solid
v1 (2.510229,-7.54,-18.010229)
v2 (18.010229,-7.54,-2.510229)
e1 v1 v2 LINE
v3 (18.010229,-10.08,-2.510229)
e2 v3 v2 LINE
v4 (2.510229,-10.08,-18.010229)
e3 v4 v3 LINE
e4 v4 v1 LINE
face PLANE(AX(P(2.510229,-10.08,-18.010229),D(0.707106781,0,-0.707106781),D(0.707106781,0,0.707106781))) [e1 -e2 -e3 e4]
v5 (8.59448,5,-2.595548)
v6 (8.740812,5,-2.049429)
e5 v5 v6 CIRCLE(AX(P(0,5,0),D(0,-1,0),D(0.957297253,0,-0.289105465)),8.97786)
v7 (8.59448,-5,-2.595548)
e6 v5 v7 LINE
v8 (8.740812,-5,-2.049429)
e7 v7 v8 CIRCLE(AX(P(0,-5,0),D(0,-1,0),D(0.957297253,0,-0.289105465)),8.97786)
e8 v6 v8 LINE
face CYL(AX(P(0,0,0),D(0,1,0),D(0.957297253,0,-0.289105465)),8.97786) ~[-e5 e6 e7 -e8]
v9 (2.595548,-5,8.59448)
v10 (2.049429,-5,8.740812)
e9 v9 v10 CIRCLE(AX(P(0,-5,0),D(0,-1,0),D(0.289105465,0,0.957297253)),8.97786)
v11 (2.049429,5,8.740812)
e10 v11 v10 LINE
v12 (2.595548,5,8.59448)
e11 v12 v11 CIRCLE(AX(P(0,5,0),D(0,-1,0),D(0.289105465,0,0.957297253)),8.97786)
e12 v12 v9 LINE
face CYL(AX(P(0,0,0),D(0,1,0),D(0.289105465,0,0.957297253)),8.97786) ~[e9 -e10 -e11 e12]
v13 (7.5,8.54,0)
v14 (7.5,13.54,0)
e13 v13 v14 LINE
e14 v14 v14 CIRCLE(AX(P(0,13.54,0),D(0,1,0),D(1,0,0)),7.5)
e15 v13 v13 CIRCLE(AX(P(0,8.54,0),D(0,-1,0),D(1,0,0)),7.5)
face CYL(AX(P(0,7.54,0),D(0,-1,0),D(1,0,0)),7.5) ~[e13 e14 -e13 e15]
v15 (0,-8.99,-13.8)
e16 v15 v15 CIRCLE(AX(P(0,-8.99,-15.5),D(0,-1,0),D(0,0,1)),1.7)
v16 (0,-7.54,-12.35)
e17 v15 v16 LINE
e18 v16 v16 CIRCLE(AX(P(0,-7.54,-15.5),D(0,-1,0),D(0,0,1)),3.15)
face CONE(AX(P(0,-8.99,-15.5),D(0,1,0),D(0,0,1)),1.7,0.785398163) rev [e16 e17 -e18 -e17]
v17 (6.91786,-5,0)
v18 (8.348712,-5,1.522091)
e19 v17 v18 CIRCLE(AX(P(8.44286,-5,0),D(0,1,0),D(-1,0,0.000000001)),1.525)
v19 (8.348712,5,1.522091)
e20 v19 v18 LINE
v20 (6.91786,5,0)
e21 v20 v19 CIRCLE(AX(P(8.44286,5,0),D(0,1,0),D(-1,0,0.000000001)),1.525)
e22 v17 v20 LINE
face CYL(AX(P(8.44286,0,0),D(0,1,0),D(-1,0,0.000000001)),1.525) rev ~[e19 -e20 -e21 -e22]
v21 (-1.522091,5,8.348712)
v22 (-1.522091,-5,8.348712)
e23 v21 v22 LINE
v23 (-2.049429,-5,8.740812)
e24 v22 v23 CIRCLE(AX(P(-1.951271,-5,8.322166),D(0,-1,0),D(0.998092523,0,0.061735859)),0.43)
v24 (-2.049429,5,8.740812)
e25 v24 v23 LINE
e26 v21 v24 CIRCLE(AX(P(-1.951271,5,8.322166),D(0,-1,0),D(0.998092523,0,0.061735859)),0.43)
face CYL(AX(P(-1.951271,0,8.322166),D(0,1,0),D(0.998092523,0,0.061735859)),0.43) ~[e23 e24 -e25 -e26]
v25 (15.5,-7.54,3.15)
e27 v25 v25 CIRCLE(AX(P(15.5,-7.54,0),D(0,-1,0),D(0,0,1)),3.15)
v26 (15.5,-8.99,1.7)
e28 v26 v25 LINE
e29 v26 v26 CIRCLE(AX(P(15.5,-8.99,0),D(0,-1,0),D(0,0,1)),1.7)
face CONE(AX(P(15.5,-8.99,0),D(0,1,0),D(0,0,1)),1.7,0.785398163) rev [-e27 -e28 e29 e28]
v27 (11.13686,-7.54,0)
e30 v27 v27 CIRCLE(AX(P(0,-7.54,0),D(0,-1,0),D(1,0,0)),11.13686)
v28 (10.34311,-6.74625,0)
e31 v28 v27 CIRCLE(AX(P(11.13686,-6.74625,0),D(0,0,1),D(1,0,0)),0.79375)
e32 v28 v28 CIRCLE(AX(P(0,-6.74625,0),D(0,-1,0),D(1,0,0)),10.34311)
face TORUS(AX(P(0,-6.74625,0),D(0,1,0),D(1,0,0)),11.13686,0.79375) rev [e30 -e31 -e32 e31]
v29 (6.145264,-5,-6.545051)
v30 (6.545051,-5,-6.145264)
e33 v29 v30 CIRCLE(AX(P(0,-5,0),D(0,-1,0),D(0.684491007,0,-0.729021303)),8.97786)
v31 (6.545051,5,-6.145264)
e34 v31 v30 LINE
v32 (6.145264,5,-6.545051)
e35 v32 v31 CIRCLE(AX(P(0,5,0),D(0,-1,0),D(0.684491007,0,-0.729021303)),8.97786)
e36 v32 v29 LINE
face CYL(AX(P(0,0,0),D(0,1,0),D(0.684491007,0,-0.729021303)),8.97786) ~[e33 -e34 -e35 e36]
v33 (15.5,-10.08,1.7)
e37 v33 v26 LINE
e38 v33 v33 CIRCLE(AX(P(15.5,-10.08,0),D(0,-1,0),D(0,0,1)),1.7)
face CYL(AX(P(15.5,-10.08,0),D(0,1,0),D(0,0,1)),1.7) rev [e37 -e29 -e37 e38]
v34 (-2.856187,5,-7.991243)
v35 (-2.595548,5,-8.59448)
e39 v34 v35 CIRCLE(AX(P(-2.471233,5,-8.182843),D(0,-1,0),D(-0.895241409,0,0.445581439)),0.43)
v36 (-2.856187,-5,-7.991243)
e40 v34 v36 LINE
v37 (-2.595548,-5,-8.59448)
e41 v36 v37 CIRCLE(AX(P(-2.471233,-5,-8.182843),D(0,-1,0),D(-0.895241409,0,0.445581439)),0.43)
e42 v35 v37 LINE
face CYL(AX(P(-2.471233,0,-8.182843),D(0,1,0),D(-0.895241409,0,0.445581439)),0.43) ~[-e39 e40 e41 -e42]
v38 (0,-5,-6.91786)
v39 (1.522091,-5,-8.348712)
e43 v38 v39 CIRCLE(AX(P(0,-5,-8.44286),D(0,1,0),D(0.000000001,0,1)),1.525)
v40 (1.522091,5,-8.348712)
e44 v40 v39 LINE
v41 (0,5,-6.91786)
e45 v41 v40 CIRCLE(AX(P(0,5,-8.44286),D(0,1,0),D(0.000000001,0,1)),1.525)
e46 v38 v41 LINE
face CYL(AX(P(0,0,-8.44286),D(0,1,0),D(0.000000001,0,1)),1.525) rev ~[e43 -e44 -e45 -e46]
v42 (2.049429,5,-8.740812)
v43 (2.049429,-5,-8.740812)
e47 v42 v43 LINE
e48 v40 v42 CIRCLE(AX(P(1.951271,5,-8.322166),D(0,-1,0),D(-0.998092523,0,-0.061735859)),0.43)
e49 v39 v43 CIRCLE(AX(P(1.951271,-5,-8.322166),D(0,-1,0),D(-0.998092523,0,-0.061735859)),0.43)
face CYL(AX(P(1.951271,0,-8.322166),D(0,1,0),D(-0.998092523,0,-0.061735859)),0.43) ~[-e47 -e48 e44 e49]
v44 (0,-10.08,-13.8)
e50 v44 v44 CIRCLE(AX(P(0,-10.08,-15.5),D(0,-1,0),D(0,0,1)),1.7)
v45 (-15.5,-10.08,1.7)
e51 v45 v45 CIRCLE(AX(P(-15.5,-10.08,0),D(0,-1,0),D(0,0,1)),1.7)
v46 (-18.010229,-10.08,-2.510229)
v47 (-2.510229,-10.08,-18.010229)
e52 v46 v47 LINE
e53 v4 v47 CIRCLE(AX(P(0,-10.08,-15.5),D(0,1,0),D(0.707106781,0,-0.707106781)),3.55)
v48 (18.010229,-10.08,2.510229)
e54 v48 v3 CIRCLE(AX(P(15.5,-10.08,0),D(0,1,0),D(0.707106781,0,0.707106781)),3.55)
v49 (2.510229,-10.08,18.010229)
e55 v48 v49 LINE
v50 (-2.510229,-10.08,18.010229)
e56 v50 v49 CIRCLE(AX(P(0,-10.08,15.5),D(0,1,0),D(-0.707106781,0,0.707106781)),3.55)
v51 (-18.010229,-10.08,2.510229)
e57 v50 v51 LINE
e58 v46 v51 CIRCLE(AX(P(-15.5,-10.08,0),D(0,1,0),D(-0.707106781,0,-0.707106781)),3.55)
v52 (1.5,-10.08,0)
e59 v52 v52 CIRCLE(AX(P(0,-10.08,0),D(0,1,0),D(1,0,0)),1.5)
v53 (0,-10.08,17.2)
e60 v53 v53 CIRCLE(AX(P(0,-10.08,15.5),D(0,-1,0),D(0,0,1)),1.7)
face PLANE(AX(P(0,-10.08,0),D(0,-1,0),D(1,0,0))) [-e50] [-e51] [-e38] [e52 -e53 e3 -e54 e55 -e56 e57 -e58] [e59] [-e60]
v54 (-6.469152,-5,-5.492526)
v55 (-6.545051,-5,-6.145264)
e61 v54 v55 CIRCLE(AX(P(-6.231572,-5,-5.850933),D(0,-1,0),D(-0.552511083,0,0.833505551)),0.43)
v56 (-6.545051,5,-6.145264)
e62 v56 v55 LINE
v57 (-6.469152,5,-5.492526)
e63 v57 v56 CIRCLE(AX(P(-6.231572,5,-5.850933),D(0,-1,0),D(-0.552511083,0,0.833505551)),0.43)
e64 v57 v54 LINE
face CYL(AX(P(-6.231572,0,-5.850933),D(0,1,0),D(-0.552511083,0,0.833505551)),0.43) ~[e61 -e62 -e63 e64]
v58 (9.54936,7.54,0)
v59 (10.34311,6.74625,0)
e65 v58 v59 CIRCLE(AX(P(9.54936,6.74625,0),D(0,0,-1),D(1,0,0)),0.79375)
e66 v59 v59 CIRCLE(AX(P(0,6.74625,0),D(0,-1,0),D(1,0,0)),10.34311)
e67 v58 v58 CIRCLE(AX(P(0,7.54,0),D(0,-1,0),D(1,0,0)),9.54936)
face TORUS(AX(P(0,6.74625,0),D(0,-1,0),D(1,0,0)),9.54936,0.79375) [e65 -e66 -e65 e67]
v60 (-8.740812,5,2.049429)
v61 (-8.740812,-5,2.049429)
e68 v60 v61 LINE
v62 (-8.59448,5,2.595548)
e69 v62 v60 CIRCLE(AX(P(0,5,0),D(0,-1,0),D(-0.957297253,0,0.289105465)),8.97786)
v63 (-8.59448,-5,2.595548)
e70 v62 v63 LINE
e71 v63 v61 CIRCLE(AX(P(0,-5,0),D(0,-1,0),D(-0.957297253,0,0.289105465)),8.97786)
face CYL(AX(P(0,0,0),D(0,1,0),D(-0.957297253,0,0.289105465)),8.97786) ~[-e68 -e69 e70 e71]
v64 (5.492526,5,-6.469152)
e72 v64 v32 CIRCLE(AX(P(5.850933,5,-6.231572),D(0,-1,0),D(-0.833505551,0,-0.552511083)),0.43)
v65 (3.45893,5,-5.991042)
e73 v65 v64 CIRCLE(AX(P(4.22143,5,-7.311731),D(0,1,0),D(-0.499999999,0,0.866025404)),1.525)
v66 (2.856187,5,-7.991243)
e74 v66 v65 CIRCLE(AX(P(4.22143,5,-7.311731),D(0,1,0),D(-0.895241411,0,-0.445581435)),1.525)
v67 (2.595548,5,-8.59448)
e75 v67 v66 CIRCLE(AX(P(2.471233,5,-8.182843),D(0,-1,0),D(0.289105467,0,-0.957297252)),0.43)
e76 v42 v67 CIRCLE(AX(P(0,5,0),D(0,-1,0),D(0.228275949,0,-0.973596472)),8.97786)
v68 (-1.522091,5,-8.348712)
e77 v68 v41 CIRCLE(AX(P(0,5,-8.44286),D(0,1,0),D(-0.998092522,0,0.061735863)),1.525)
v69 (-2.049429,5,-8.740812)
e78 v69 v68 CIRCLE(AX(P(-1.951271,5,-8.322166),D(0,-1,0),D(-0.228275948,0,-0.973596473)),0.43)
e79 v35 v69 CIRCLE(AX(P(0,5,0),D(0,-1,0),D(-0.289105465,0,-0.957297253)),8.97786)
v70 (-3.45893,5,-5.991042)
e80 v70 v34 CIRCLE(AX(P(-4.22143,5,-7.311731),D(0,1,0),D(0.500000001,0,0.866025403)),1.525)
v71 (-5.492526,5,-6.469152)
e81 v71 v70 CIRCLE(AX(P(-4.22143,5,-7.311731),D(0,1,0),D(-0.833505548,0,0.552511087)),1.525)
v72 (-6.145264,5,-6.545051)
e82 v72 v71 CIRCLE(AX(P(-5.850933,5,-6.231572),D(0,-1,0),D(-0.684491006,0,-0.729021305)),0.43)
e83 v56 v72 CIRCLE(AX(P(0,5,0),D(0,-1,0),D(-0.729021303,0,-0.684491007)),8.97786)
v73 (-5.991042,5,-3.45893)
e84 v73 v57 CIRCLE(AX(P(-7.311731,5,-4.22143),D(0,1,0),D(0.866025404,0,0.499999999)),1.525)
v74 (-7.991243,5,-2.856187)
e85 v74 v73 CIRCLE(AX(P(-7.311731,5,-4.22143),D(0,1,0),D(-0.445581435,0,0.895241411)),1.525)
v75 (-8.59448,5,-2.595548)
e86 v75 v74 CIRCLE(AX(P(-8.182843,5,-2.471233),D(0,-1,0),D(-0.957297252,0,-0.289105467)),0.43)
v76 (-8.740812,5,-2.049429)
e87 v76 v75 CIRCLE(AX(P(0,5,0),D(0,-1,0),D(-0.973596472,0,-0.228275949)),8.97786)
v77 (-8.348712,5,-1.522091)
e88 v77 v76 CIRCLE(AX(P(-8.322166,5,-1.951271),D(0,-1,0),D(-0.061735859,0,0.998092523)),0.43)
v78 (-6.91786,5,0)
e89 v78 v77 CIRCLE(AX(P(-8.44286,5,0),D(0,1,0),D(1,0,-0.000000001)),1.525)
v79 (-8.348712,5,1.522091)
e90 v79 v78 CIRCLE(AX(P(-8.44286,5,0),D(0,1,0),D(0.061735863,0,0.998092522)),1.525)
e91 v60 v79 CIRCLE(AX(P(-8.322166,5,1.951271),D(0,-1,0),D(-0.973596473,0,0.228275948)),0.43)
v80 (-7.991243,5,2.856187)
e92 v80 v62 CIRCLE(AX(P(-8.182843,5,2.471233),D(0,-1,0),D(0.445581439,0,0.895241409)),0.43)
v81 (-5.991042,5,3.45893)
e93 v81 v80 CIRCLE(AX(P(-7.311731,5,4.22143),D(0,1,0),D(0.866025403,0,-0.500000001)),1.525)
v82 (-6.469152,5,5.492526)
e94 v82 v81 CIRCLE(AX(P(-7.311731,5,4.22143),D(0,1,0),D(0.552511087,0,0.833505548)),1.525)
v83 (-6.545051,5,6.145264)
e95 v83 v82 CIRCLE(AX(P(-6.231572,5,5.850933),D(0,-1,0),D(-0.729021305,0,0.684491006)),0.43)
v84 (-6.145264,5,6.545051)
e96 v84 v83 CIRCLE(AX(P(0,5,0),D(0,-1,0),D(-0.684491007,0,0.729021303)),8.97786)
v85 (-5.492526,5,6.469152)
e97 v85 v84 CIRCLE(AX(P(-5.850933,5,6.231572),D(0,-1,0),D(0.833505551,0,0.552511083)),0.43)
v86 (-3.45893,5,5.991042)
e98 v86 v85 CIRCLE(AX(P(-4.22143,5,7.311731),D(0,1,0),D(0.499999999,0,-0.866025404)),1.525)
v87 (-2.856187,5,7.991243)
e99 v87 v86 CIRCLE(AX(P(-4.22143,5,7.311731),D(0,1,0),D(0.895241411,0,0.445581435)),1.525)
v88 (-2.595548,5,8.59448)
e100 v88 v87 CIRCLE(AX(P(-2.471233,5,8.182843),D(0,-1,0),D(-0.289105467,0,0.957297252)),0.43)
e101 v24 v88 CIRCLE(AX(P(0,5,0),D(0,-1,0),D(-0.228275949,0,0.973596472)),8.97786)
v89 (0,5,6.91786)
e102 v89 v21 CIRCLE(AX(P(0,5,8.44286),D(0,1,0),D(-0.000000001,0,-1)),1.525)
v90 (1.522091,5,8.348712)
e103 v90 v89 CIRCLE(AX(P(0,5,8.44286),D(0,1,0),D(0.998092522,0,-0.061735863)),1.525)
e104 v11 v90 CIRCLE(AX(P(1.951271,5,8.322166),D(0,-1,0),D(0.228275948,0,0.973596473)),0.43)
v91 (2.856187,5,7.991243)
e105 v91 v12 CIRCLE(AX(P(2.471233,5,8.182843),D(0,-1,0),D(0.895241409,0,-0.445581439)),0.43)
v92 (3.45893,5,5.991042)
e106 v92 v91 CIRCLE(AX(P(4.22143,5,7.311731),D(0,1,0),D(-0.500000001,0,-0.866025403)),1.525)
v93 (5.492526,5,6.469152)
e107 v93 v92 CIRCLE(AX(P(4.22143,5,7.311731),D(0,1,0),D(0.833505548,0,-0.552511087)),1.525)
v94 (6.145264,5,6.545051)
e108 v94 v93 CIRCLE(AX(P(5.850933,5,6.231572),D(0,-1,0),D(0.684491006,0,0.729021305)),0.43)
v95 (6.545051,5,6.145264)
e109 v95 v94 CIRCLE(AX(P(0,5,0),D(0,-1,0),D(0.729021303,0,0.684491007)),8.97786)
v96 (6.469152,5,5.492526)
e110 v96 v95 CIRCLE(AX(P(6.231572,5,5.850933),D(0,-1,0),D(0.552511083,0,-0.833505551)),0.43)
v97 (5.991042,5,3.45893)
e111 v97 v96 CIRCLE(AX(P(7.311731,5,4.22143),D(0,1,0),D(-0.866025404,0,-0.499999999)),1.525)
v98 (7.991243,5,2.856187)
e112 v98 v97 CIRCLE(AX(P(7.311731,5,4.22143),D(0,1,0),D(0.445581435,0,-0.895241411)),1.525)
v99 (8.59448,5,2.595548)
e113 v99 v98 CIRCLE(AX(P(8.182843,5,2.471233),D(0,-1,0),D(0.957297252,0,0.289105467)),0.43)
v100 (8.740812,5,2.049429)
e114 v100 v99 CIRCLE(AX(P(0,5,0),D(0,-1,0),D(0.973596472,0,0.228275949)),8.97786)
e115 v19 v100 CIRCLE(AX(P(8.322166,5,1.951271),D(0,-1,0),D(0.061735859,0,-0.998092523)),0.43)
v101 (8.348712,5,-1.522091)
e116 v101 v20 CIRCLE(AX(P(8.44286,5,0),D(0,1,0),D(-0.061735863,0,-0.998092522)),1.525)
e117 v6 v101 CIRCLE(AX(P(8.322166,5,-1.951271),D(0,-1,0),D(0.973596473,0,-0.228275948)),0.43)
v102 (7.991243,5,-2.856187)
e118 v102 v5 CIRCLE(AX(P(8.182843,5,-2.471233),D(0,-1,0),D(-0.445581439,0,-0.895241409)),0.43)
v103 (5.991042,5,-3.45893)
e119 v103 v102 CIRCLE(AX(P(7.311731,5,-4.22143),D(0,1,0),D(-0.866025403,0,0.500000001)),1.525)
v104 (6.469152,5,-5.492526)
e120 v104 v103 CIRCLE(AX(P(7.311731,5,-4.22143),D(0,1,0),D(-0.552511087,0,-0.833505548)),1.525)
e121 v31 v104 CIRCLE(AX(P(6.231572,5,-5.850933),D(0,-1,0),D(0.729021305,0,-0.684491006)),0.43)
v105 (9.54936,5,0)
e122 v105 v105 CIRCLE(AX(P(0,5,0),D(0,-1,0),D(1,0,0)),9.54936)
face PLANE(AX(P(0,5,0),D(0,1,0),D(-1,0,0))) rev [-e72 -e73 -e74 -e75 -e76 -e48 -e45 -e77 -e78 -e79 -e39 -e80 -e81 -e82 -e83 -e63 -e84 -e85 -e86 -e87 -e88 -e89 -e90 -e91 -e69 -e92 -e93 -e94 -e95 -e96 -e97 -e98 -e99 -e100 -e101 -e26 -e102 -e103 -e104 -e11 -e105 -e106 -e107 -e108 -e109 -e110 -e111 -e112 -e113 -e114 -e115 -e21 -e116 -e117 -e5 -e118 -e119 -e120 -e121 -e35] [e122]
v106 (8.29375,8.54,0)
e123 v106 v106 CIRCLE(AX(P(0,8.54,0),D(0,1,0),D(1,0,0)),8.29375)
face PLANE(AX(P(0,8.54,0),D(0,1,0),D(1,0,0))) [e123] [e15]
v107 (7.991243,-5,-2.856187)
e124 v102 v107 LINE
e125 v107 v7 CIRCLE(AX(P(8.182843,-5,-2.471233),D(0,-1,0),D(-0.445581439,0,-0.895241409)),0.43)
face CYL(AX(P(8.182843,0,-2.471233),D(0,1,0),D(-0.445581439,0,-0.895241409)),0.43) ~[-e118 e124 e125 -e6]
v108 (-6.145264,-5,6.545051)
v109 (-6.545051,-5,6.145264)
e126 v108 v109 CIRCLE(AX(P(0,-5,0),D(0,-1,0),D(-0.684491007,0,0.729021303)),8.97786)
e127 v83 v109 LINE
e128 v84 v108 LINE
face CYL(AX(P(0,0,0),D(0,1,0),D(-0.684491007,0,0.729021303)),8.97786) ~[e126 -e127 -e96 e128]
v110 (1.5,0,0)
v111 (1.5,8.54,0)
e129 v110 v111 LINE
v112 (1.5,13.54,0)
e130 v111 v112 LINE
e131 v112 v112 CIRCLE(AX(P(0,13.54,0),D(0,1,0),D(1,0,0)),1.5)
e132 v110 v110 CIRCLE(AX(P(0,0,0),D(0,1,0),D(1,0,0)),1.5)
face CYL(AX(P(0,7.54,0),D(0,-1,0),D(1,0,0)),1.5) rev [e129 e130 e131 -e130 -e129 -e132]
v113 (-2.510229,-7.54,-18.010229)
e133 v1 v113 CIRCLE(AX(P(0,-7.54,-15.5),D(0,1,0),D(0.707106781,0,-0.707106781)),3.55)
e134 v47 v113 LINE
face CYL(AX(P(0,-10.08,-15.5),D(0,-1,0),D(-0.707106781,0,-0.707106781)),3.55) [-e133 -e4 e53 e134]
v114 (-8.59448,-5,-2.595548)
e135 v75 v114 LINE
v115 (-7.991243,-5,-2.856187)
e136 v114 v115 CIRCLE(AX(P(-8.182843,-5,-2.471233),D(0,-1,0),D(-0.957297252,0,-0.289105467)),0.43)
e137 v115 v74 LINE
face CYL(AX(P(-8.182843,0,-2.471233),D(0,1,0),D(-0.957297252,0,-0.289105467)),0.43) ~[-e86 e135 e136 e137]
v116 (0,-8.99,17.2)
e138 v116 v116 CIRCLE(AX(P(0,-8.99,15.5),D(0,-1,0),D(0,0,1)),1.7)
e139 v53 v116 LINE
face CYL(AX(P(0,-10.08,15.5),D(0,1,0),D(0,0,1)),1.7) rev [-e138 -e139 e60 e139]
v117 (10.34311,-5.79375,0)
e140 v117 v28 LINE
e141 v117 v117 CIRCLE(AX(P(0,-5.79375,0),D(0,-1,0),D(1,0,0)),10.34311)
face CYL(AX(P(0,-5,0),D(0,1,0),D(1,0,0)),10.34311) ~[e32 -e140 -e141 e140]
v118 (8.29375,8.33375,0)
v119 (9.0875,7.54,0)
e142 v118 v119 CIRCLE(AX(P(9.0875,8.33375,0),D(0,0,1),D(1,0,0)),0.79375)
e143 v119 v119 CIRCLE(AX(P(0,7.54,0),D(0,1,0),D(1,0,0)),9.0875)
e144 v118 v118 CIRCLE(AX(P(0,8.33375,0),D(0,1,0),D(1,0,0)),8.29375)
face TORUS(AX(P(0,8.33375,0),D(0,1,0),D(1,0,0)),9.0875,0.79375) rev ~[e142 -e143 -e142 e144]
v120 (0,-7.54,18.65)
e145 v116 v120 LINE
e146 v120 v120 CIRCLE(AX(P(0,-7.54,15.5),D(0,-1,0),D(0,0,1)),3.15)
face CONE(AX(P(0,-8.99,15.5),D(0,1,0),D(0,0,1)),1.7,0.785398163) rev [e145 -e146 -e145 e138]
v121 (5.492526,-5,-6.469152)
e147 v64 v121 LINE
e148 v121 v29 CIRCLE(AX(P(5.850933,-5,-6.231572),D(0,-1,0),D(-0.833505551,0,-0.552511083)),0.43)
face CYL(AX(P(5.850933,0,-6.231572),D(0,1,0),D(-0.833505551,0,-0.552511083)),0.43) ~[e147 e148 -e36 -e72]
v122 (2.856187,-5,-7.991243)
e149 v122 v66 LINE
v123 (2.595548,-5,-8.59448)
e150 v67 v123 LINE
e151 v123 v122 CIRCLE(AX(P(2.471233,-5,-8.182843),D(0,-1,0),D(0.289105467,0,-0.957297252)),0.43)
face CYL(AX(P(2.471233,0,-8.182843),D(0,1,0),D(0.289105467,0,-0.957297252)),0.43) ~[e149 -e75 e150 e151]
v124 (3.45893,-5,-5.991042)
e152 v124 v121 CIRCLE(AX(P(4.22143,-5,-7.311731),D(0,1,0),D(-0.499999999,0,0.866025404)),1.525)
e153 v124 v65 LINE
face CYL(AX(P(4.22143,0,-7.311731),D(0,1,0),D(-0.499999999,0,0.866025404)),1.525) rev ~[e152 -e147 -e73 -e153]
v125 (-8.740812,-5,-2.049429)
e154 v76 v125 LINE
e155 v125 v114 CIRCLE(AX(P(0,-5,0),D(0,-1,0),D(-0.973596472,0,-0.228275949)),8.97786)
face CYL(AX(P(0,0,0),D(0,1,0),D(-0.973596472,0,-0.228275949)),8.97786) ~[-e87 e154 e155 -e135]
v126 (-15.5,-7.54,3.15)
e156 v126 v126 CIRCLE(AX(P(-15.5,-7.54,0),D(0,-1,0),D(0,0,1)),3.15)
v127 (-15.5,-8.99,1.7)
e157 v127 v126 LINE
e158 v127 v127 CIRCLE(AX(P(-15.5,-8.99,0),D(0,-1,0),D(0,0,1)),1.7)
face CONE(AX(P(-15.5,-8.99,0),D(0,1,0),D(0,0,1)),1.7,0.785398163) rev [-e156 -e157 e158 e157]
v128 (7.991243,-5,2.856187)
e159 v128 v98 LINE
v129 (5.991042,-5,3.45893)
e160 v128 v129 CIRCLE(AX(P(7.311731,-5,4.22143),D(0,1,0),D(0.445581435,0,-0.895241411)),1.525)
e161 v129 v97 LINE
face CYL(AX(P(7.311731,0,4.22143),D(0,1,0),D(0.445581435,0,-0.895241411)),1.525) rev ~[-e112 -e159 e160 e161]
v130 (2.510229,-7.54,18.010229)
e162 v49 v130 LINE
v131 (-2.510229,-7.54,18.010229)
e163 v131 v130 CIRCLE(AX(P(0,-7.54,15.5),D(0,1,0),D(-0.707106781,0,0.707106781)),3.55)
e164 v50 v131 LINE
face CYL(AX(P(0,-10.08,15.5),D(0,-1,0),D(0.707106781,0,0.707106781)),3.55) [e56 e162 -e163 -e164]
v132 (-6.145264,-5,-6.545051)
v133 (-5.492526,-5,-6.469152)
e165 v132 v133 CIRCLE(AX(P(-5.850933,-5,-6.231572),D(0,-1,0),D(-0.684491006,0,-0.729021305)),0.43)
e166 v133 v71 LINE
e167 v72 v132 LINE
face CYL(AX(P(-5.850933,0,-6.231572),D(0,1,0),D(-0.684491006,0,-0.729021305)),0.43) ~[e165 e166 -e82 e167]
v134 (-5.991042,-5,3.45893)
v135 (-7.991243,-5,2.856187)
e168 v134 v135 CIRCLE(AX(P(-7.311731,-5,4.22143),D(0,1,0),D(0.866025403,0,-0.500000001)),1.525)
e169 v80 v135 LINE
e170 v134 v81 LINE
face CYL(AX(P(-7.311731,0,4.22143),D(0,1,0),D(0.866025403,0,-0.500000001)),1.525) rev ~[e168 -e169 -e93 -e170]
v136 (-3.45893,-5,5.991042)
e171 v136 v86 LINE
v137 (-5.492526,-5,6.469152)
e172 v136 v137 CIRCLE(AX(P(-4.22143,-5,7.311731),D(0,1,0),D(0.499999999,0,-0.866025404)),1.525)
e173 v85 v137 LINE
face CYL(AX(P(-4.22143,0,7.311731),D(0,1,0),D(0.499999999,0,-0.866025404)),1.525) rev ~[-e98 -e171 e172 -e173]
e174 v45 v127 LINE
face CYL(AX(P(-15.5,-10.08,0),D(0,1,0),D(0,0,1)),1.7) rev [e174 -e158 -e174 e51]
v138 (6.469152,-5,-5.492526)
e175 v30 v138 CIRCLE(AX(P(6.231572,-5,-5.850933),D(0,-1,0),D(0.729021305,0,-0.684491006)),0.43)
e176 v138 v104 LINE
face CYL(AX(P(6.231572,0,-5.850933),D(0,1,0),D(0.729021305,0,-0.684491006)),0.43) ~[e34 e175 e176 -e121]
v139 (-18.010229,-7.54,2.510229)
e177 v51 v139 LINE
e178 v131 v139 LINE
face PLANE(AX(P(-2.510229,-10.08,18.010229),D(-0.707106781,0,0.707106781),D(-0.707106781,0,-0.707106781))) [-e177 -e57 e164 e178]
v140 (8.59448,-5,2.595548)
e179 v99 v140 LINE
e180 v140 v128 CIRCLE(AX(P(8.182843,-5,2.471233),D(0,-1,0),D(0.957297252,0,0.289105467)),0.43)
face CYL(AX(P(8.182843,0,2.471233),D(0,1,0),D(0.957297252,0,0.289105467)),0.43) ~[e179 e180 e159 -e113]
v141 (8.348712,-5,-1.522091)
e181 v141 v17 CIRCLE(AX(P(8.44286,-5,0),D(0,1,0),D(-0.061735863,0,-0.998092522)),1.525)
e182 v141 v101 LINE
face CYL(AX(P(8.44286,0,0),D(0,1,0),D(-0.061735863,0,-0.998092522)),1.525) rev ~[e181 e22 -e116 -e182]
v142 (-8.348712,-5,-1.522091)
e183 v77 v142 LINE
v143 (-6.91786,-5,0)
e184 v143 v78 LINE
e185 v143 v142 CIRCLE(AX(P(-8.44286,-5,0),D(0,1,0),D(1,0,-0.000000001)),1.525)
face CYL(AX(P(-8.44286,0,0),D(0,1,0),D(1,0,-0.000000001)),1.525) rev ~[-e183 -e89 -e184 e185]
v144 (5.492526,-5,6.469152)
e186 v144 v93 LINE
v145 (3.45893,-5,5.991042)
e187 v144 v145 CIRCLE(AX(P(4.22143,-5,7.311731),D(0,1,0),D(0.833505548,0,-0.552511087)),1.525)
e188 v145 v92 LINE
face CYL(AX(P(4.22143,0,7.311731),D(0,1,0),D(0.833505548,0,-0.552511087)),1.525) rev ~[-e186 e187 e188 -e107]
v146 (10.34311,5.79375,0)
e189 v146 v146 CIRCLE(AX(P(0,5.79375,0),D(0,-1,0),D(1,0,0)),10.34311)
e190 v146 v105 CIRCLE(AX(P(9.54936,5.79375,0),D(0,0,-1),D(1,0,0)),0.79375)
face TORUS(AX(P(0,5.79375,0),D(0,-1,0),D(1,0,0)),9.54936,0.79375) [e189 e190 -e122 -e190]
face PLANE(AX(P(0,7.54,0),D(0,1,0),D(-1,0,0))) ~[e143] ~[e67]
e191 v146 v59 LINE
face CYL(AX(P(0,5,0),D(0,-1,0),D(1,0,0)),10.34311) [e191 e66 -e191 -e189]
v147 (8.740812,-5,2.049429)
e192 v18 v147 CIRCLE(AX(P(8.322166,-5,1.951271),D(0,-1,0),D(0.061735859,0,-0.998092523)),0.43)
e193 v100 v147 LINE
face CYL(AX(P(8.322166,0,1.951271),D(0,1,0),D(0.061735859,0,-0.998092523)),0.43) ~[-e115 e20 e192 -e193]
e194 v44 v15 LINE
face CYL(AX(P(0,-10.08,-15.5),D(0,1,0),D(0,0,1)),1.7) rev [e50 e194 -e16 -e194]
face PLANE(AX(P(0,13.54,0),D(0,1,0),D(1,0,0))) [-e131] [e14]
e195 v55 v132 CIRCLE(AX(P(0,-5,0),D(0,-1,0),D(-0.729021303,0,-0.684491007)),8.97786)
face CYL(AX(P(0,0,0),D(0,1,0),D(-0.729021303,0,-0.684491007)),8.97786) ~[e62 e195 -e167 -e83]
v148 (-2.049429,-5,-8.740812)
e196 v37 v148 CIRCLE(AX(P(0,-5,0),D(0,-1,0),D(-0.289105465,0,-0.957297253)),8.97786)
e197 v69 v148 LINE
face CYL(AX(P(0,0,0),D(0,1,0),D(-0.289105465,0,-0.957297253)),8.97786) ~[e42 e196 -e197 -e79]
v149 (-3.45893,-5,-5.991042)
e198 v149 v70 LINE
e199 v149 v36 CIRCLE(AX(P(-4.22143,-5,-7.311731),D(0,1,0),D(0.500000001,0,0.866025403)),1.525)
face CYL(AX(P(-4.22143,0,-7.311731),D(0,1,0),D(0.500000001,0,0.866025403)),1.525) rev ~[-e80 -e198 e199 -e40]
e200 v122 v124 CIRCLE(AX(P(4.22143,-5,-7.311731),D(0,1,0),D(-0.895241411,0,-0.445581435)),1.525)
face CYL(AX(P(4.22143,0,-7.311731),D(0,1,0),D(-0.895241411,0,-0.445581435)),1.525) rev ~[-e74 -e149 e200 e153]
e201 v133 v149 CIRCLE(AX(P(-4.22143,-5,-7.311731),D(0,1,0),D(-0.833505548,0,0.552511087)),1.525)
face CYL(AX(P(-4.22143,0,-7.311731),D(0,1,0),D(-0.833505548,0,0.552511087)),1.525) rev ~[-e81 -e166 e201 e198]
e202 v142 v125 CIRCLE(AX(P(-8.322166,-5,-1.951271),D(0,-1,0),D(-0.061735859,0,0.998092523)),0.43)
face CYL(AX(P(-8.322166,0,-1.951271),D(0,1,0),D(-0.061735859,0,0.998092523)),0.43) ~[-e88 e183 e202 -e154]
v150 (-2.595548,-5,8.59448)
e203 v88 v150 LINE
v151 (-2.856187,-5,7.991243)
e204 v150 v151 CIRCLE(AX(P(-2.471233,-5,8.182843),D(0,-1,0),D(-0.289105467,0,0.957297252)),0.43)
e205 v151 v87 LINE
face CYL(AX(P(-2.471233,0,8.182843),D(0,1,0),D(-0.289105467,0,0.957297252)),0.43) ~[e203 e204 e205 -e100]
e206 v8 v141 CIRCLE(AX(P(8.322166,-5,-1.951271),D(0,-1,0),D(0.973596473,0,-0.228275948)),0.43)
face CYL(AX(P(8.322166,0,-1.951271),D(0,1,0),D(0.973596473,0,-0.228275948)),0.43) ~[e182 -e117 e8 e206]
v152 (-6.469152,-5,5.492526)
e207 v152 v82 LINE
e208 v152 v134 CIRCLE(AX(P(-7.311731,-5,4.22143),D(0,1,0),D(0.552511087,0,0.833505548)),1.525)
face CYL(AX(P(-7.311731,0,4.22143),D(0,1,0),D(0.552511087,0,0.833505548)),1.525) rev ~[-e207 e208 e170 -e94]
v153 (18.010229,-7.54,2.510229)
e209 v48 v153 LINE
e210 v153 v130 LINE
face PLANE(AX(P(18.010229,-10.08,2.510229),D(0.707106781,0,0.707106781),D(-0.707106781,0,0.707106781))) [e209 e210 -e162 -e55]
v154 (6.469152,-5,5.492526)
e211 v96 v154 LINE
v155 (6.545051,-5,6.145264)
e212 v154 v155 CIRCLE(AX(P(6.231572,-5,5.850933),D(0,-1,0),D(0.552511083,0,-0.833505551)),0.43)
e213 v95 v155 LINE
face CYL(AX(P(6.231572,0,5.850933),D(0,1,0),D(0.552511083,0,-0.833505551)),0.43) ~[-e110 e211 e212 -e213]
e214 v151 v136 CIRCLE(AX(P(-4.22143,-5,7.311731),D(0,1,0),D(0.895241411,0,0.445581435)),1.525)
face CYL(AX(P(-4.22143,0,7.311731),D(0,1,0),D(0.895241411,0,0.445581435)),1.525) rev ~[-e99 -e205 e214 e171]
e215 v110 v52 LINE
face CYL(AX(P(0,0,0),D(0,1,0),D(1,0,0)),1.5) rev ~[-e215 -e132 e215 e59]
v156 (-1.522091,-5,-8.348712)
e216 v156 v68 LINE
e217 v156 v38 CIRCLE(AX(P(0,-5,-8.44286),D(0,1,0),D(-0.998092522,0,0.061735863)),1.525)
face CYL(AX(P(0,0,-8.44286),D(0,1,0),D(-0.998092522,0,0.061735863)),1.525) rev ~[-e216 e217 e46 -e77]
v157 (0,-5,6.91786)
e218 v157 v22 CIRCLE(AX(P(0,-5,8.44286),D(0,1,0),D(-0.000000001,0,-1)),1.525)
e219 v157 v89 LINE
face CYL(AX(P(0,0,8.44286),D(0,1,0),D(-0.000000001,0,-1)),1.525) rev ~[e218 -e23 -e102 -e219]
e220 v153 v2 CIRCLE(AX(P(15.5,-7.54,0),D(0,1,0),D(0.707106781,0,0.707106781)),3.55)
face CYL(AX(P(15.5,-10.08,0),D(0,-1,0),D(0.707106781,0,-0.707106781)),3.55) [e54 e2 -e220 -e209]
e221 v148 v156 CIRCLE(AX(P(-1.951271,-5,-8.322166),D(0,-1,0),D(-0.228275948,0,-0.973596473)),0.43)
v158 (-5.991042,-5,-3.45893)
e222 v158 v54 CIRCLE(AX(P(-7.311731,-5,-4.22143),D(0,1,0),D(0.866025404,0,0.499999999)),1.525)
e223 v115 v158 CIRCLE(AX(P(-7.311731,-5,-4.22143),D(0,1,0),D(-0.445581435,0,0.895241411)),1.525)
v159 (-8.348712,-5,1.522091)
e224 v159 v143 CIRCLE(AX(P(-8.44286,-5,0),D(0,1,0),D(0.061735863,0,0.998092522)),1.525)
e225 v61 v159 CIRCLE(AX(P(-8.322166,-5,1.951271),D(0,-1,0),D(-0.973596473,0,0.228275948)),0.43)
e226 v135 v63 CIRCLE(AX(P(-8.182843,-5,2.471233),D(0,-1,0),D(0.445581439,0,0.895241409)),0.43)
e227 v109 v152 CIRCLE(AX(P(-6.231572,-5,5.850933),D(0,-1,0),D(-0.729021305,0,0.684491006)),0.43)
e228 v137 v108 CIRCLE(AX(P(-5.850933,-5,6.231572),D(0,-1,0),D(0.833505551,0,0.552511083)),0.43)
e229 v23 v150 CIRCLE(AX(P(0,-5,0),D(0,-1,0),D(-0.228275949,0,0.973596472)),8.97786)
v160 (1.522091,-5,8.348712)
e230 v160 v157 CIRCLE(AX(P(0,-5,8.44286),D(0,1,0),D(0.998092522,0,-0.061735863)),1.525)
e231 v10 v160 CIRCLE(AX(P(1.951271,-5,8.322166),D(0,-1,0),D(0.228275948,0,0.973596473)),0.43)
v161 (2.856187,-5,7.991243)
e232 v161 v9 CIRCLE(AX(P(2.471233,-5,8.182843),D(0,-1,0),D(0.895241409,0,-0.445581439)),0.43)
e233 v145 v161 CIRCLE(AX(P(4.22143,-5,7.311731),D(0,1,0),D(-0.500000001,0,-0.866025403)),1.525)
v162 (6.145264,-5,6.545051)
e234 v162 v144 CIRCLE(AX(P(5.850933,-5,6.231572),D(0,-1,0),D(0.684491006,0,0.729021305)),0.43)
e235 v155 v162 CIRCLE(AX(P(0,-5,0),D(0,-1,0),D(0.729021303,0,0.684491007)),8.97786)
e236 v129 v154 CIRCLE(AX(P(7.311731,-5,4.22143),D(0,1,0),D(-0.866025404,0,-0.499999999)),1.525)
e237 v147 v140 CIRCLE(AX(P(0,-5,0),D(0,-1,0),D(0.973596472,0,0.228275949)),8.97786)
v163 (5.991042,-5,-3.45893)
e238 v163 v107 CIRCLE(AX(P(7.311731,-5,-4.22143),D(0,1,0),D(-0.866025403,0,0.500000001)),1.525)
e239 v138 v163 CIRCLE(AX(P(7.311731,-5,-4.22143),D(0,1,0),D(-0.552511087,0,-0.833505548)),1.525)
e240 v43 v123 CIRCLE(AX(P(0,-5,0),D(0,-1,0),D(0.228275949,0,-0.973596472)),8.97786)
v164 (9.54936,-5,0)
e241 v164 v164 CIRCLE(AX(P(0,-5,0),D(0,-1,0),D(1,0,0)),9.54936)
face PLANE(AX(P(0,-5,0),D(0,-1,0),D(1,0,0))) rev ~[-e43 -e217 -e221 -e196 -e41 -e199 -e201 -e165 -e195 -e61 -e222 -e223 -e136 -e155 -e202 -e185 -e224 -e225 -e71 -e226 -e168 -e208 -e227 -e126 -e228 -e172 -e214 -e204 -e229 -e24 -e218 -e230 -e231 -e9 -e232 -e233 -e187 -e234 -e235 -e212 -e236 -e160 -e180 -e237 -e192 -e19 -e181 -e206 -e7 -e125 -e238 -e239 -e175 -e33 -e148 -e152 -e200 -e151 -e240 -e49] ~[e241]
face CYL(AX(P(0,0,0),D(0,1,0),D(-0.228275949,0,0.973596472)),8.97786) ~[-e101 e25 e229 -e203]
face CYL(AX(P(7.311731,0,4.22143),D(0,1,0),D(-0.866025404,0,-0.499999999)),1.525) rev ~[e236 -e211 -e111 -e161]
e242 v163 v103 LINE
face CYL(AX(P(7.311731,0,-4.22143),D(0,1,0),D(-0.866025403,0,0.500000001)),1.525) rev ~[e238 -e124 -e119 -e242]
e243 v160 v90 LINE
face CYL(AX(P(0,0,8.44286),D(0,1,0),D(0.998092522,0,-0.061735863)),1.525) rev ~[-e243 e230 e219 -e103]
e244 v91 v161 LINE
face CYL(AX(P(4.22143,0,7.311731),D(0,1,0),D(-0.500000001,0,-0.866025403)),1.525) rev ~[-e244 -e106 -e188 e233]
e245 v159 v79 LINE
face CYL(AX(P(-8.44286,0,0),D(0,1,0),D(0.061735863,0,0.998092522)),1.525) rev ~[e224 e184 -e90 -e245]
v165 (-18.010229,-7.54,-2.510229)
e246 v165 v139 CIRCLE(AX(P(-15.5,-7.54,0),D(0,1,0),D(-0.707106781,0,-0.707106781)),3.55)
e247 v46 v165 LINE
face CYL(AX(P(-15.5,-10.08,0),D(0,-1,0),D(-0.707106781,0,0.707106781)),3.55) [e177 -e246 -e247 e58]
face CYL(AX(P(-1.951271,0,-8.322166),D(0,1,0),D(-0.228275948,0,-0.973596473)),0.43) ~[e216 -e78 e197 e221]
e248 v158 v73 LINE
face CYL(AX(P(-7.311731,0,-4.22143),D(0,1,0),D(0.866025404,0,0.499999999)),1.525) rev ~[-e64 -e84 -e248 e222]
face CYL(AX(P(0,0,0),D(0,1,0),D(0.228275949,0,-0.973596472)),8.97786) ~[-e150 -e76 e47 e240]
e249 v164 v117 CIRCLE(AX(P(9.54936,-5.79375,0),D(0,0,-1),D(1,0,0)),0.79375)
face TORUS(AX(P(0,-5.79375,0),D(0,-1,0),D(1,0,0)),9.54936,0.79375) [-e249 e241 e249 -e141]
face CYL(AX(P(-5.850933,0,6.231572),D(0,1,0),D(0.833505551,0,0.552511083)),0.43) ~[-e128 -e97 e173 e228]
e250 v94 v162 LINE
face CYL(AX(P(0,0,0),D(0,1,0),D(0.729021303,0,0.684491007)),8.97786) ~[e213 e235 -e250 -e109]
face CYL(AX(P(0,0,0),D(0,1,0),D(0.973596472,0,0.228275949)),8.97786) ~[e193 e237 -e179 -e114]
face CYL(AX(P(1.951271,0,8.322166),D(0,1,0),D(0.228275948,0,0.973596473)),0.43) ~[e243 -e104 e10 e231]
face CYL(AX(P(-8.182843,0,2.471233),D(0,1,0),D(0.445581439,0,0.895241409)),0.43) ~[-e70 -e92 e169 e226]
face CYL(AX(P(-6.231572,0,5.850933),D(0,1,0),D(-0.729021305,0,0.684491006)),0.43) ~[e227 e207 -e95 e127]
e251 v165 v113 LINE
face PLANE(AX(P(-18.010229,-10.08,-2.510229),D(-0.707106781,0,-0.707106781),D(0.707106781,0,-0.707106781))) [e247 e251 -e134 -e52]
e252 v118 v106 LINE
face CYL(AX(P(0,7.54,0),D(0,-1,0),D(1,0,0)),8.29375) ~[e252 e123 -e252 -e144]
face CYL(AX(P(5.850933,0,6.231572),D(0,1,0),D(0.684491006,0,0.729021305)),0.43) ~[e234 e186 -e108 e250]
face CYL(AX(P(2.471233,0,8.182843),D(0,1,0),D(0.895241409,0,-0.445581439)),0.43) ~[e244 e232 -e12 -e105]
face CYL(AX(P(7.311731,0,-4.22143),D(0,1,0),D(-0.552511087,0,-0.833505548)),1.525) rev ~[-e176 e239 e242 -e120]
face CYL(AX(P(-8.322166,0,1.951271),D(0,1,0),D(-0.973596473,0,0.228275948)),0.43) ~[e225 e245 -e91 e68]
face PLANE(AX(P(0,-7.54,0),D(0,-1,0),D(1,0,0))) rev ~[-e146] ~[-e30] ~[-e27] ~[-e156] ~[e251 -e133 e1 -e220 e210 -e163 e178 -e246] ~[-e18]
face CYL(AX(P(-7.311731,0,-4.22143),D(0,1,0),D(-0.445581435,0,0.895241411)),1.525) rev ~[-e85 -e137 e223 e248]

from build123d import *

# Parameters (mm, degrees)
BOSS_EXTRUDE1_DEPTH                            = 5.000000033
CIRPATTERN1_COUNT                              = 12
SKETCH2_R                                      = 10.343109616
BOSS_EXTRUDE2_DEPTH                            = 2.54
SKETCH4_R                                      = 19.05
SKETCH4_R_2                                    = 1.27
BOSS_EXTRUDE3_DEPTH                            = 2.54
SKETCH6_R                                      = 1.27
CUT_EXTRUDE2_DEPTH                             = 16.080000066
CUT_EXTRUDE2_DEPTH_BACK                        = 3.54
CSK_FOR_M3_FLAT_HEAD_MACHINE_SCREW1_AT_2_COUNT = 2
CSK_FOR_M3_FLAT_HEAD_MACHINE_SCREW1_AT_2_PITCH = 21.920310217
CSK_FOR_M3_FLAT_HEAD_MACHINE_SCREW1_AT_3_COUNT = 2
CSK_FOR_M3_FLAT_HEAD_MACHINE_SCREW1_AT_3_PITCH = 31
CSK_FOR_M3_FLAT_HEAD_MACHINE_SCREW1_AT_4_COUNT = 2
CSK_FOR_M3_FLAT_HEAD_MACHINE_SCREW1_AT_4_PITCH = 21.920310217
SKETCH8_R                                      = 7.499999986
SKETCH8_R_2                                    = 1.500000048
BOSS_EXTRUDE4_DEPTH                            = 5.999999938
SKETCH9_R                                      = 8.293749986
BOSS_EXTRUDE5_DEPTH                            = 1.000000032
CUT_EXTRUDE_THIN1_DEPTH                        = 24.620000004
SKETCH5_R                                      = 1.5
CUT_EXTRUDE1_DEPTH                             = 14.539999971
CUT_EXTRUDE1_DEPTH_BACK                        = 11.080000033
FILLET1_R                                      = 0.79375


with BuildPart() as part:
    # Sketch1 → Boss-Extrude1 (new body, symmetric)
    with BuildSketch(Plane(origin=(0, 0, 0), x_dir=(1, 0, 0), z_dir=(0, 1, 0))):
        with BuildLine():
            ThreePointArc((0, 6.917859672), (1.044521548, 7.331734237), (1.522091095, 8.34871248))
            ThreePointArc((1.522091095, 8.34871248), (1.694698508, 8.667232124), (2.049429417, 8.740812454))
            ThreePointArc((2.049429417, 8.740812454), (2.323641053, 8.671946468), (2.595548289, 8.594480343))
            ThreePointArc((2.595548289, 8.594480343), (2.865964102, 8.353392454), (2.856186685, 7.991242644))
            ThreePointArc((2.856186685, 7.991242644), (2.761284923, 6.871728877), (3.458929836, 5.991042216))
            ThreePointArc((3.458929836, 5.991042216), (-1.790473834, -6.68213932), (0, 6.917859672))
        make_face()
    boss_extrude1 = extrude(amount=BOSS_EXTRUDE1_DEPTH, both=True)

    # CirPattern1: Boss-Extrude1 ×12 about axis
    cirpattern1_axis = Axis((0, 0, 0), (0, 1, 0))
    for i in range(1, CIRPATTERN1_COUNT):
        add(boss_extrude1.rotate(cirpattern1_axis, i * 360 / CIRPATTERN1_COUNT))

    # Sketch2 → Boss-Extrude2 (add)
    with BuildSketch(Plane.XZ.offset(5.000000033)):
        Circle(SKETCH2_R)
    boss_extrude2 = extrude(amount=BOSS_EXTRUDE2_DEPTH)

    # Mirror1: Boss-Extrude2 across plane
    add(boss_extrude2.mirror(Plane.ZX))

    # Sketch4 → Boss-Extrude3 (add)
    with BuildSketch(Plane.XZ.offset(7.540000033)):
        Circle(SKETCH4_R)
        with Locations((-15.5, 0)):
            Circle(SKETCH4_R_2, mode=Mode.SUBTRACT)
    extrude(amount=BOSS_EXTRUDE3_DEPTH)

    # Sketch6 → Cut-Extrude2 (cut, two sides)
    with BuildSketch(Plane(origin=(0, -7.540000033, 0), x_dir=(1, 0, 0), z_dir=(0, 1, 0))) as cut_extrude2_sk:
        with Locations((0, -15.5)):
            Circle(SKETCH6_R)
        with Locations((15.5, 0)):
            Circle(SKETCH6_R)
        with Locations((0, 15.5)):
            Circle(SKETCH6_R)
        with Locations((-15.5, 0)):
            Circle(SKETCH6_R)
    extrude(amount=CUT_EXTRUDE2_DEPTH, mode=Mode.SUBTRACT)
    extrude(cut_extrude2_sk.sketch, amount=-CUT_EXTRUDE2_DEPTH_BACK, mode=Mode.SUBTRACT)

    # Sketch7 → CSK for M3 Flat Head Machine Screw1 (revolve, cut)
    with BuildSketch(Plane(origin=(-15.5, -7.540000033, 0), x_dir=(0, 0, 1), z_dir=(1, 0, 0))):
        Polygon((0, 0), (0, 2.54), (1.7, 2.54), (1.7, 1.45), (3.15, 0), align=None)
    csk_for_m3_flat_head_machine_screw1 = revolve(axis=Axis((-15.5, -1.190000033, 0), (0, -1, 0)), mode=Mode.SUBTRACT)

    # CSK for M3 Flat Head Machine Screw1 at 2: CSK for M3 Flat Head Machine Screw1 ×2
    with Locations(*[Vector(0.707106781, 0, 0.707106781) * (i * CSK_FOR_M3_FLAT_HEAD_MACHINE_SCREW1_AT_2_PITCH) for i in range(1, CSK_FOR_M3_FLAT_HEAD_MACHINE_SCREW1_AT_2_COUNT)]):
        add(csk_for_m3_flat_head_machine_screw1, mode=Mode.SUBTRACT)

    # CSK for M3 Flat Head Machine Screw1 at 3: CSK for M3 Flat Head Machine Screw1 ×2
    with Locations(*[(i * CSK_FOR_M3_FLAT_HEAD_MACHINE_SCREW1_AT_3_PITCH, 0, 0) for i in range(1, CSK_FOR_M3_FLAT_HEAD_MACHINE_SCREW1_AT_3_COUNT)]):
        add(csk_for_m3_flat_head_machine_screw1, mode=Mode.SUBTRACT)

    # CSK for M3 Flat Head Machine Screw1 at 4: CSK for M3 Flat Head Machine Screw1 ×2
    with Locations(*[Vector(0.707106781, 0, -0.707106781) * (i * CSK_FOR_M3_FLAT_HEAD_MACHINE_SCREW1_AT_4_PITCH) for i in range(1, CSK_FOR_M3_FLAT_HEAD_MACHINE_SCREW1_AT_4_COUNT)]):
        add(csk_for_m3_flat_head_machine_screw1, mode=Mode.SUBTRACT)

    # Sketch8 → Boss-Extrude4 (add)
    with BuildSketch(Plane(origin=(0, 7.540000033, 0), x_dir=(1, 0, 0), z_dir=(0, 1, 0))):
        Circle(SKETCH8_R)
        Circle(SKETCH8_R_2, mode=Mode.SUBTRACT)
    extrude(amount=BOSS_EXTRUDE4_DEPTH)

    # Sketch9 → Boss-Extrude5 (add)
    with BuildSketch(Plane(origin=(0, 7.540000033, 0), x_dir=(1, 0, 0), z_dir=(0, 1, 0))):
        Circle(SKETCH9_R)
    extrude(amount=BOSS_EXTRUDE5_DEPTH)

    # Sketch10 → Cut-Extrude-Thin1 (cut, through all)
    with BuildSketch(Plane(origin=(0, -10.080000033, 0), x_dir=(-1, 0, 0), z_dir=(0, -1, 0))):
        with BuildLine():
            Line((35.970741315, 20.470741315), (20.470741315, 35.970741315))
            ThreePointArc((20.470741315, 35.970741315), (0, 44.45), (-20.470741315, 35.970741315))
            Line((-20.470741315, 35.970741315), (-35.970741315, 20.470741315))
            ThreePointArc((-35.970741315, 20.470741315), (-44.45, 0), (-35.970741315, -20.470741315))
            Line((-35.970741315, -20.470741315), (-20.470741315, -35.970741315))
            ThreePointArc((-20.470741315, -35.970741315), (0, -44.45), (20.470741315, -35.970741315))
            Line((20.470741315, -35.970741315), (35.970741315, -20.470741315))
            ThreePointArc((35.970741315, -20.470741315), (44.45, 0), (35.970741315, 20.470741315))
        make_face()
        with BuildLine():
            Line((18.010229073, 2.510229073), (2.510229073, 18.010229073))
            ThreePointArc((2.510229073, 18.010229073), (0, 19.05), (-2.510229073, 18.010229073))
            Line((-2.510229073, 18.010229073), (-18.010229073, 2.510229073))
            ThreePointArc((-18.010229073, 2.510229073), (-19.05, 0), (-18.010229073, -2.510229073))
            Line((-18.010229073, -2.510229073), (-2.510229073, -18.010229073))
            ThreePointArc((-2.510229073, -18.010229073), (0, -19.05), (2.510229073, -18.010229073))
            Line((2.510229073, -18.010229073), (18.010229073, -2.510229073))
            ThreePointArc((18.010229073, -2.510229073), (19.05, 0), (18.010229073, 2.510229073))
        make_face(mode=Mode.SUBTRACT)
    extrude(amount=-CUT_EXTRUDE_THIN1_DEPTH, mode=Mode.SUBTRACT)

    # Sketch5 → Cut-Extrude1 (cut, two sides)
    with BuildSketch(Plane(origin=(0, 0, 0), x_dir=(1, 0, 0), z_dir=(0, 1, 0))) as cut_extrude1_sk:
        Circle(SKETCH5_R)
    extrude(amount=CUT_EXTRUDE1_DEPTH, mode=Mode.SUBTRACT)
    extrude(cut_extrude1_sk.sketch, amount=-CUT_EXTRUDE1_DEPTH_BACK, mode=Mode.SUBTRACT)

    # Fillet1
    fillet1_edges = [part.edges().sort_by_distance(p)[0] for p in [
        (-10.343109616, -5.000000033, 0),
        (-10.343109616, -7.540000033, 0),
        (-10.343109616, 7.540000033, 0),
        (-10.343109616, 5.000000033, 0),
        (-8.293749986, 7.540000033, 0),
    ]]
    fillet(fillet1_edges, radius=FILLET1_R)


solid = part.part
